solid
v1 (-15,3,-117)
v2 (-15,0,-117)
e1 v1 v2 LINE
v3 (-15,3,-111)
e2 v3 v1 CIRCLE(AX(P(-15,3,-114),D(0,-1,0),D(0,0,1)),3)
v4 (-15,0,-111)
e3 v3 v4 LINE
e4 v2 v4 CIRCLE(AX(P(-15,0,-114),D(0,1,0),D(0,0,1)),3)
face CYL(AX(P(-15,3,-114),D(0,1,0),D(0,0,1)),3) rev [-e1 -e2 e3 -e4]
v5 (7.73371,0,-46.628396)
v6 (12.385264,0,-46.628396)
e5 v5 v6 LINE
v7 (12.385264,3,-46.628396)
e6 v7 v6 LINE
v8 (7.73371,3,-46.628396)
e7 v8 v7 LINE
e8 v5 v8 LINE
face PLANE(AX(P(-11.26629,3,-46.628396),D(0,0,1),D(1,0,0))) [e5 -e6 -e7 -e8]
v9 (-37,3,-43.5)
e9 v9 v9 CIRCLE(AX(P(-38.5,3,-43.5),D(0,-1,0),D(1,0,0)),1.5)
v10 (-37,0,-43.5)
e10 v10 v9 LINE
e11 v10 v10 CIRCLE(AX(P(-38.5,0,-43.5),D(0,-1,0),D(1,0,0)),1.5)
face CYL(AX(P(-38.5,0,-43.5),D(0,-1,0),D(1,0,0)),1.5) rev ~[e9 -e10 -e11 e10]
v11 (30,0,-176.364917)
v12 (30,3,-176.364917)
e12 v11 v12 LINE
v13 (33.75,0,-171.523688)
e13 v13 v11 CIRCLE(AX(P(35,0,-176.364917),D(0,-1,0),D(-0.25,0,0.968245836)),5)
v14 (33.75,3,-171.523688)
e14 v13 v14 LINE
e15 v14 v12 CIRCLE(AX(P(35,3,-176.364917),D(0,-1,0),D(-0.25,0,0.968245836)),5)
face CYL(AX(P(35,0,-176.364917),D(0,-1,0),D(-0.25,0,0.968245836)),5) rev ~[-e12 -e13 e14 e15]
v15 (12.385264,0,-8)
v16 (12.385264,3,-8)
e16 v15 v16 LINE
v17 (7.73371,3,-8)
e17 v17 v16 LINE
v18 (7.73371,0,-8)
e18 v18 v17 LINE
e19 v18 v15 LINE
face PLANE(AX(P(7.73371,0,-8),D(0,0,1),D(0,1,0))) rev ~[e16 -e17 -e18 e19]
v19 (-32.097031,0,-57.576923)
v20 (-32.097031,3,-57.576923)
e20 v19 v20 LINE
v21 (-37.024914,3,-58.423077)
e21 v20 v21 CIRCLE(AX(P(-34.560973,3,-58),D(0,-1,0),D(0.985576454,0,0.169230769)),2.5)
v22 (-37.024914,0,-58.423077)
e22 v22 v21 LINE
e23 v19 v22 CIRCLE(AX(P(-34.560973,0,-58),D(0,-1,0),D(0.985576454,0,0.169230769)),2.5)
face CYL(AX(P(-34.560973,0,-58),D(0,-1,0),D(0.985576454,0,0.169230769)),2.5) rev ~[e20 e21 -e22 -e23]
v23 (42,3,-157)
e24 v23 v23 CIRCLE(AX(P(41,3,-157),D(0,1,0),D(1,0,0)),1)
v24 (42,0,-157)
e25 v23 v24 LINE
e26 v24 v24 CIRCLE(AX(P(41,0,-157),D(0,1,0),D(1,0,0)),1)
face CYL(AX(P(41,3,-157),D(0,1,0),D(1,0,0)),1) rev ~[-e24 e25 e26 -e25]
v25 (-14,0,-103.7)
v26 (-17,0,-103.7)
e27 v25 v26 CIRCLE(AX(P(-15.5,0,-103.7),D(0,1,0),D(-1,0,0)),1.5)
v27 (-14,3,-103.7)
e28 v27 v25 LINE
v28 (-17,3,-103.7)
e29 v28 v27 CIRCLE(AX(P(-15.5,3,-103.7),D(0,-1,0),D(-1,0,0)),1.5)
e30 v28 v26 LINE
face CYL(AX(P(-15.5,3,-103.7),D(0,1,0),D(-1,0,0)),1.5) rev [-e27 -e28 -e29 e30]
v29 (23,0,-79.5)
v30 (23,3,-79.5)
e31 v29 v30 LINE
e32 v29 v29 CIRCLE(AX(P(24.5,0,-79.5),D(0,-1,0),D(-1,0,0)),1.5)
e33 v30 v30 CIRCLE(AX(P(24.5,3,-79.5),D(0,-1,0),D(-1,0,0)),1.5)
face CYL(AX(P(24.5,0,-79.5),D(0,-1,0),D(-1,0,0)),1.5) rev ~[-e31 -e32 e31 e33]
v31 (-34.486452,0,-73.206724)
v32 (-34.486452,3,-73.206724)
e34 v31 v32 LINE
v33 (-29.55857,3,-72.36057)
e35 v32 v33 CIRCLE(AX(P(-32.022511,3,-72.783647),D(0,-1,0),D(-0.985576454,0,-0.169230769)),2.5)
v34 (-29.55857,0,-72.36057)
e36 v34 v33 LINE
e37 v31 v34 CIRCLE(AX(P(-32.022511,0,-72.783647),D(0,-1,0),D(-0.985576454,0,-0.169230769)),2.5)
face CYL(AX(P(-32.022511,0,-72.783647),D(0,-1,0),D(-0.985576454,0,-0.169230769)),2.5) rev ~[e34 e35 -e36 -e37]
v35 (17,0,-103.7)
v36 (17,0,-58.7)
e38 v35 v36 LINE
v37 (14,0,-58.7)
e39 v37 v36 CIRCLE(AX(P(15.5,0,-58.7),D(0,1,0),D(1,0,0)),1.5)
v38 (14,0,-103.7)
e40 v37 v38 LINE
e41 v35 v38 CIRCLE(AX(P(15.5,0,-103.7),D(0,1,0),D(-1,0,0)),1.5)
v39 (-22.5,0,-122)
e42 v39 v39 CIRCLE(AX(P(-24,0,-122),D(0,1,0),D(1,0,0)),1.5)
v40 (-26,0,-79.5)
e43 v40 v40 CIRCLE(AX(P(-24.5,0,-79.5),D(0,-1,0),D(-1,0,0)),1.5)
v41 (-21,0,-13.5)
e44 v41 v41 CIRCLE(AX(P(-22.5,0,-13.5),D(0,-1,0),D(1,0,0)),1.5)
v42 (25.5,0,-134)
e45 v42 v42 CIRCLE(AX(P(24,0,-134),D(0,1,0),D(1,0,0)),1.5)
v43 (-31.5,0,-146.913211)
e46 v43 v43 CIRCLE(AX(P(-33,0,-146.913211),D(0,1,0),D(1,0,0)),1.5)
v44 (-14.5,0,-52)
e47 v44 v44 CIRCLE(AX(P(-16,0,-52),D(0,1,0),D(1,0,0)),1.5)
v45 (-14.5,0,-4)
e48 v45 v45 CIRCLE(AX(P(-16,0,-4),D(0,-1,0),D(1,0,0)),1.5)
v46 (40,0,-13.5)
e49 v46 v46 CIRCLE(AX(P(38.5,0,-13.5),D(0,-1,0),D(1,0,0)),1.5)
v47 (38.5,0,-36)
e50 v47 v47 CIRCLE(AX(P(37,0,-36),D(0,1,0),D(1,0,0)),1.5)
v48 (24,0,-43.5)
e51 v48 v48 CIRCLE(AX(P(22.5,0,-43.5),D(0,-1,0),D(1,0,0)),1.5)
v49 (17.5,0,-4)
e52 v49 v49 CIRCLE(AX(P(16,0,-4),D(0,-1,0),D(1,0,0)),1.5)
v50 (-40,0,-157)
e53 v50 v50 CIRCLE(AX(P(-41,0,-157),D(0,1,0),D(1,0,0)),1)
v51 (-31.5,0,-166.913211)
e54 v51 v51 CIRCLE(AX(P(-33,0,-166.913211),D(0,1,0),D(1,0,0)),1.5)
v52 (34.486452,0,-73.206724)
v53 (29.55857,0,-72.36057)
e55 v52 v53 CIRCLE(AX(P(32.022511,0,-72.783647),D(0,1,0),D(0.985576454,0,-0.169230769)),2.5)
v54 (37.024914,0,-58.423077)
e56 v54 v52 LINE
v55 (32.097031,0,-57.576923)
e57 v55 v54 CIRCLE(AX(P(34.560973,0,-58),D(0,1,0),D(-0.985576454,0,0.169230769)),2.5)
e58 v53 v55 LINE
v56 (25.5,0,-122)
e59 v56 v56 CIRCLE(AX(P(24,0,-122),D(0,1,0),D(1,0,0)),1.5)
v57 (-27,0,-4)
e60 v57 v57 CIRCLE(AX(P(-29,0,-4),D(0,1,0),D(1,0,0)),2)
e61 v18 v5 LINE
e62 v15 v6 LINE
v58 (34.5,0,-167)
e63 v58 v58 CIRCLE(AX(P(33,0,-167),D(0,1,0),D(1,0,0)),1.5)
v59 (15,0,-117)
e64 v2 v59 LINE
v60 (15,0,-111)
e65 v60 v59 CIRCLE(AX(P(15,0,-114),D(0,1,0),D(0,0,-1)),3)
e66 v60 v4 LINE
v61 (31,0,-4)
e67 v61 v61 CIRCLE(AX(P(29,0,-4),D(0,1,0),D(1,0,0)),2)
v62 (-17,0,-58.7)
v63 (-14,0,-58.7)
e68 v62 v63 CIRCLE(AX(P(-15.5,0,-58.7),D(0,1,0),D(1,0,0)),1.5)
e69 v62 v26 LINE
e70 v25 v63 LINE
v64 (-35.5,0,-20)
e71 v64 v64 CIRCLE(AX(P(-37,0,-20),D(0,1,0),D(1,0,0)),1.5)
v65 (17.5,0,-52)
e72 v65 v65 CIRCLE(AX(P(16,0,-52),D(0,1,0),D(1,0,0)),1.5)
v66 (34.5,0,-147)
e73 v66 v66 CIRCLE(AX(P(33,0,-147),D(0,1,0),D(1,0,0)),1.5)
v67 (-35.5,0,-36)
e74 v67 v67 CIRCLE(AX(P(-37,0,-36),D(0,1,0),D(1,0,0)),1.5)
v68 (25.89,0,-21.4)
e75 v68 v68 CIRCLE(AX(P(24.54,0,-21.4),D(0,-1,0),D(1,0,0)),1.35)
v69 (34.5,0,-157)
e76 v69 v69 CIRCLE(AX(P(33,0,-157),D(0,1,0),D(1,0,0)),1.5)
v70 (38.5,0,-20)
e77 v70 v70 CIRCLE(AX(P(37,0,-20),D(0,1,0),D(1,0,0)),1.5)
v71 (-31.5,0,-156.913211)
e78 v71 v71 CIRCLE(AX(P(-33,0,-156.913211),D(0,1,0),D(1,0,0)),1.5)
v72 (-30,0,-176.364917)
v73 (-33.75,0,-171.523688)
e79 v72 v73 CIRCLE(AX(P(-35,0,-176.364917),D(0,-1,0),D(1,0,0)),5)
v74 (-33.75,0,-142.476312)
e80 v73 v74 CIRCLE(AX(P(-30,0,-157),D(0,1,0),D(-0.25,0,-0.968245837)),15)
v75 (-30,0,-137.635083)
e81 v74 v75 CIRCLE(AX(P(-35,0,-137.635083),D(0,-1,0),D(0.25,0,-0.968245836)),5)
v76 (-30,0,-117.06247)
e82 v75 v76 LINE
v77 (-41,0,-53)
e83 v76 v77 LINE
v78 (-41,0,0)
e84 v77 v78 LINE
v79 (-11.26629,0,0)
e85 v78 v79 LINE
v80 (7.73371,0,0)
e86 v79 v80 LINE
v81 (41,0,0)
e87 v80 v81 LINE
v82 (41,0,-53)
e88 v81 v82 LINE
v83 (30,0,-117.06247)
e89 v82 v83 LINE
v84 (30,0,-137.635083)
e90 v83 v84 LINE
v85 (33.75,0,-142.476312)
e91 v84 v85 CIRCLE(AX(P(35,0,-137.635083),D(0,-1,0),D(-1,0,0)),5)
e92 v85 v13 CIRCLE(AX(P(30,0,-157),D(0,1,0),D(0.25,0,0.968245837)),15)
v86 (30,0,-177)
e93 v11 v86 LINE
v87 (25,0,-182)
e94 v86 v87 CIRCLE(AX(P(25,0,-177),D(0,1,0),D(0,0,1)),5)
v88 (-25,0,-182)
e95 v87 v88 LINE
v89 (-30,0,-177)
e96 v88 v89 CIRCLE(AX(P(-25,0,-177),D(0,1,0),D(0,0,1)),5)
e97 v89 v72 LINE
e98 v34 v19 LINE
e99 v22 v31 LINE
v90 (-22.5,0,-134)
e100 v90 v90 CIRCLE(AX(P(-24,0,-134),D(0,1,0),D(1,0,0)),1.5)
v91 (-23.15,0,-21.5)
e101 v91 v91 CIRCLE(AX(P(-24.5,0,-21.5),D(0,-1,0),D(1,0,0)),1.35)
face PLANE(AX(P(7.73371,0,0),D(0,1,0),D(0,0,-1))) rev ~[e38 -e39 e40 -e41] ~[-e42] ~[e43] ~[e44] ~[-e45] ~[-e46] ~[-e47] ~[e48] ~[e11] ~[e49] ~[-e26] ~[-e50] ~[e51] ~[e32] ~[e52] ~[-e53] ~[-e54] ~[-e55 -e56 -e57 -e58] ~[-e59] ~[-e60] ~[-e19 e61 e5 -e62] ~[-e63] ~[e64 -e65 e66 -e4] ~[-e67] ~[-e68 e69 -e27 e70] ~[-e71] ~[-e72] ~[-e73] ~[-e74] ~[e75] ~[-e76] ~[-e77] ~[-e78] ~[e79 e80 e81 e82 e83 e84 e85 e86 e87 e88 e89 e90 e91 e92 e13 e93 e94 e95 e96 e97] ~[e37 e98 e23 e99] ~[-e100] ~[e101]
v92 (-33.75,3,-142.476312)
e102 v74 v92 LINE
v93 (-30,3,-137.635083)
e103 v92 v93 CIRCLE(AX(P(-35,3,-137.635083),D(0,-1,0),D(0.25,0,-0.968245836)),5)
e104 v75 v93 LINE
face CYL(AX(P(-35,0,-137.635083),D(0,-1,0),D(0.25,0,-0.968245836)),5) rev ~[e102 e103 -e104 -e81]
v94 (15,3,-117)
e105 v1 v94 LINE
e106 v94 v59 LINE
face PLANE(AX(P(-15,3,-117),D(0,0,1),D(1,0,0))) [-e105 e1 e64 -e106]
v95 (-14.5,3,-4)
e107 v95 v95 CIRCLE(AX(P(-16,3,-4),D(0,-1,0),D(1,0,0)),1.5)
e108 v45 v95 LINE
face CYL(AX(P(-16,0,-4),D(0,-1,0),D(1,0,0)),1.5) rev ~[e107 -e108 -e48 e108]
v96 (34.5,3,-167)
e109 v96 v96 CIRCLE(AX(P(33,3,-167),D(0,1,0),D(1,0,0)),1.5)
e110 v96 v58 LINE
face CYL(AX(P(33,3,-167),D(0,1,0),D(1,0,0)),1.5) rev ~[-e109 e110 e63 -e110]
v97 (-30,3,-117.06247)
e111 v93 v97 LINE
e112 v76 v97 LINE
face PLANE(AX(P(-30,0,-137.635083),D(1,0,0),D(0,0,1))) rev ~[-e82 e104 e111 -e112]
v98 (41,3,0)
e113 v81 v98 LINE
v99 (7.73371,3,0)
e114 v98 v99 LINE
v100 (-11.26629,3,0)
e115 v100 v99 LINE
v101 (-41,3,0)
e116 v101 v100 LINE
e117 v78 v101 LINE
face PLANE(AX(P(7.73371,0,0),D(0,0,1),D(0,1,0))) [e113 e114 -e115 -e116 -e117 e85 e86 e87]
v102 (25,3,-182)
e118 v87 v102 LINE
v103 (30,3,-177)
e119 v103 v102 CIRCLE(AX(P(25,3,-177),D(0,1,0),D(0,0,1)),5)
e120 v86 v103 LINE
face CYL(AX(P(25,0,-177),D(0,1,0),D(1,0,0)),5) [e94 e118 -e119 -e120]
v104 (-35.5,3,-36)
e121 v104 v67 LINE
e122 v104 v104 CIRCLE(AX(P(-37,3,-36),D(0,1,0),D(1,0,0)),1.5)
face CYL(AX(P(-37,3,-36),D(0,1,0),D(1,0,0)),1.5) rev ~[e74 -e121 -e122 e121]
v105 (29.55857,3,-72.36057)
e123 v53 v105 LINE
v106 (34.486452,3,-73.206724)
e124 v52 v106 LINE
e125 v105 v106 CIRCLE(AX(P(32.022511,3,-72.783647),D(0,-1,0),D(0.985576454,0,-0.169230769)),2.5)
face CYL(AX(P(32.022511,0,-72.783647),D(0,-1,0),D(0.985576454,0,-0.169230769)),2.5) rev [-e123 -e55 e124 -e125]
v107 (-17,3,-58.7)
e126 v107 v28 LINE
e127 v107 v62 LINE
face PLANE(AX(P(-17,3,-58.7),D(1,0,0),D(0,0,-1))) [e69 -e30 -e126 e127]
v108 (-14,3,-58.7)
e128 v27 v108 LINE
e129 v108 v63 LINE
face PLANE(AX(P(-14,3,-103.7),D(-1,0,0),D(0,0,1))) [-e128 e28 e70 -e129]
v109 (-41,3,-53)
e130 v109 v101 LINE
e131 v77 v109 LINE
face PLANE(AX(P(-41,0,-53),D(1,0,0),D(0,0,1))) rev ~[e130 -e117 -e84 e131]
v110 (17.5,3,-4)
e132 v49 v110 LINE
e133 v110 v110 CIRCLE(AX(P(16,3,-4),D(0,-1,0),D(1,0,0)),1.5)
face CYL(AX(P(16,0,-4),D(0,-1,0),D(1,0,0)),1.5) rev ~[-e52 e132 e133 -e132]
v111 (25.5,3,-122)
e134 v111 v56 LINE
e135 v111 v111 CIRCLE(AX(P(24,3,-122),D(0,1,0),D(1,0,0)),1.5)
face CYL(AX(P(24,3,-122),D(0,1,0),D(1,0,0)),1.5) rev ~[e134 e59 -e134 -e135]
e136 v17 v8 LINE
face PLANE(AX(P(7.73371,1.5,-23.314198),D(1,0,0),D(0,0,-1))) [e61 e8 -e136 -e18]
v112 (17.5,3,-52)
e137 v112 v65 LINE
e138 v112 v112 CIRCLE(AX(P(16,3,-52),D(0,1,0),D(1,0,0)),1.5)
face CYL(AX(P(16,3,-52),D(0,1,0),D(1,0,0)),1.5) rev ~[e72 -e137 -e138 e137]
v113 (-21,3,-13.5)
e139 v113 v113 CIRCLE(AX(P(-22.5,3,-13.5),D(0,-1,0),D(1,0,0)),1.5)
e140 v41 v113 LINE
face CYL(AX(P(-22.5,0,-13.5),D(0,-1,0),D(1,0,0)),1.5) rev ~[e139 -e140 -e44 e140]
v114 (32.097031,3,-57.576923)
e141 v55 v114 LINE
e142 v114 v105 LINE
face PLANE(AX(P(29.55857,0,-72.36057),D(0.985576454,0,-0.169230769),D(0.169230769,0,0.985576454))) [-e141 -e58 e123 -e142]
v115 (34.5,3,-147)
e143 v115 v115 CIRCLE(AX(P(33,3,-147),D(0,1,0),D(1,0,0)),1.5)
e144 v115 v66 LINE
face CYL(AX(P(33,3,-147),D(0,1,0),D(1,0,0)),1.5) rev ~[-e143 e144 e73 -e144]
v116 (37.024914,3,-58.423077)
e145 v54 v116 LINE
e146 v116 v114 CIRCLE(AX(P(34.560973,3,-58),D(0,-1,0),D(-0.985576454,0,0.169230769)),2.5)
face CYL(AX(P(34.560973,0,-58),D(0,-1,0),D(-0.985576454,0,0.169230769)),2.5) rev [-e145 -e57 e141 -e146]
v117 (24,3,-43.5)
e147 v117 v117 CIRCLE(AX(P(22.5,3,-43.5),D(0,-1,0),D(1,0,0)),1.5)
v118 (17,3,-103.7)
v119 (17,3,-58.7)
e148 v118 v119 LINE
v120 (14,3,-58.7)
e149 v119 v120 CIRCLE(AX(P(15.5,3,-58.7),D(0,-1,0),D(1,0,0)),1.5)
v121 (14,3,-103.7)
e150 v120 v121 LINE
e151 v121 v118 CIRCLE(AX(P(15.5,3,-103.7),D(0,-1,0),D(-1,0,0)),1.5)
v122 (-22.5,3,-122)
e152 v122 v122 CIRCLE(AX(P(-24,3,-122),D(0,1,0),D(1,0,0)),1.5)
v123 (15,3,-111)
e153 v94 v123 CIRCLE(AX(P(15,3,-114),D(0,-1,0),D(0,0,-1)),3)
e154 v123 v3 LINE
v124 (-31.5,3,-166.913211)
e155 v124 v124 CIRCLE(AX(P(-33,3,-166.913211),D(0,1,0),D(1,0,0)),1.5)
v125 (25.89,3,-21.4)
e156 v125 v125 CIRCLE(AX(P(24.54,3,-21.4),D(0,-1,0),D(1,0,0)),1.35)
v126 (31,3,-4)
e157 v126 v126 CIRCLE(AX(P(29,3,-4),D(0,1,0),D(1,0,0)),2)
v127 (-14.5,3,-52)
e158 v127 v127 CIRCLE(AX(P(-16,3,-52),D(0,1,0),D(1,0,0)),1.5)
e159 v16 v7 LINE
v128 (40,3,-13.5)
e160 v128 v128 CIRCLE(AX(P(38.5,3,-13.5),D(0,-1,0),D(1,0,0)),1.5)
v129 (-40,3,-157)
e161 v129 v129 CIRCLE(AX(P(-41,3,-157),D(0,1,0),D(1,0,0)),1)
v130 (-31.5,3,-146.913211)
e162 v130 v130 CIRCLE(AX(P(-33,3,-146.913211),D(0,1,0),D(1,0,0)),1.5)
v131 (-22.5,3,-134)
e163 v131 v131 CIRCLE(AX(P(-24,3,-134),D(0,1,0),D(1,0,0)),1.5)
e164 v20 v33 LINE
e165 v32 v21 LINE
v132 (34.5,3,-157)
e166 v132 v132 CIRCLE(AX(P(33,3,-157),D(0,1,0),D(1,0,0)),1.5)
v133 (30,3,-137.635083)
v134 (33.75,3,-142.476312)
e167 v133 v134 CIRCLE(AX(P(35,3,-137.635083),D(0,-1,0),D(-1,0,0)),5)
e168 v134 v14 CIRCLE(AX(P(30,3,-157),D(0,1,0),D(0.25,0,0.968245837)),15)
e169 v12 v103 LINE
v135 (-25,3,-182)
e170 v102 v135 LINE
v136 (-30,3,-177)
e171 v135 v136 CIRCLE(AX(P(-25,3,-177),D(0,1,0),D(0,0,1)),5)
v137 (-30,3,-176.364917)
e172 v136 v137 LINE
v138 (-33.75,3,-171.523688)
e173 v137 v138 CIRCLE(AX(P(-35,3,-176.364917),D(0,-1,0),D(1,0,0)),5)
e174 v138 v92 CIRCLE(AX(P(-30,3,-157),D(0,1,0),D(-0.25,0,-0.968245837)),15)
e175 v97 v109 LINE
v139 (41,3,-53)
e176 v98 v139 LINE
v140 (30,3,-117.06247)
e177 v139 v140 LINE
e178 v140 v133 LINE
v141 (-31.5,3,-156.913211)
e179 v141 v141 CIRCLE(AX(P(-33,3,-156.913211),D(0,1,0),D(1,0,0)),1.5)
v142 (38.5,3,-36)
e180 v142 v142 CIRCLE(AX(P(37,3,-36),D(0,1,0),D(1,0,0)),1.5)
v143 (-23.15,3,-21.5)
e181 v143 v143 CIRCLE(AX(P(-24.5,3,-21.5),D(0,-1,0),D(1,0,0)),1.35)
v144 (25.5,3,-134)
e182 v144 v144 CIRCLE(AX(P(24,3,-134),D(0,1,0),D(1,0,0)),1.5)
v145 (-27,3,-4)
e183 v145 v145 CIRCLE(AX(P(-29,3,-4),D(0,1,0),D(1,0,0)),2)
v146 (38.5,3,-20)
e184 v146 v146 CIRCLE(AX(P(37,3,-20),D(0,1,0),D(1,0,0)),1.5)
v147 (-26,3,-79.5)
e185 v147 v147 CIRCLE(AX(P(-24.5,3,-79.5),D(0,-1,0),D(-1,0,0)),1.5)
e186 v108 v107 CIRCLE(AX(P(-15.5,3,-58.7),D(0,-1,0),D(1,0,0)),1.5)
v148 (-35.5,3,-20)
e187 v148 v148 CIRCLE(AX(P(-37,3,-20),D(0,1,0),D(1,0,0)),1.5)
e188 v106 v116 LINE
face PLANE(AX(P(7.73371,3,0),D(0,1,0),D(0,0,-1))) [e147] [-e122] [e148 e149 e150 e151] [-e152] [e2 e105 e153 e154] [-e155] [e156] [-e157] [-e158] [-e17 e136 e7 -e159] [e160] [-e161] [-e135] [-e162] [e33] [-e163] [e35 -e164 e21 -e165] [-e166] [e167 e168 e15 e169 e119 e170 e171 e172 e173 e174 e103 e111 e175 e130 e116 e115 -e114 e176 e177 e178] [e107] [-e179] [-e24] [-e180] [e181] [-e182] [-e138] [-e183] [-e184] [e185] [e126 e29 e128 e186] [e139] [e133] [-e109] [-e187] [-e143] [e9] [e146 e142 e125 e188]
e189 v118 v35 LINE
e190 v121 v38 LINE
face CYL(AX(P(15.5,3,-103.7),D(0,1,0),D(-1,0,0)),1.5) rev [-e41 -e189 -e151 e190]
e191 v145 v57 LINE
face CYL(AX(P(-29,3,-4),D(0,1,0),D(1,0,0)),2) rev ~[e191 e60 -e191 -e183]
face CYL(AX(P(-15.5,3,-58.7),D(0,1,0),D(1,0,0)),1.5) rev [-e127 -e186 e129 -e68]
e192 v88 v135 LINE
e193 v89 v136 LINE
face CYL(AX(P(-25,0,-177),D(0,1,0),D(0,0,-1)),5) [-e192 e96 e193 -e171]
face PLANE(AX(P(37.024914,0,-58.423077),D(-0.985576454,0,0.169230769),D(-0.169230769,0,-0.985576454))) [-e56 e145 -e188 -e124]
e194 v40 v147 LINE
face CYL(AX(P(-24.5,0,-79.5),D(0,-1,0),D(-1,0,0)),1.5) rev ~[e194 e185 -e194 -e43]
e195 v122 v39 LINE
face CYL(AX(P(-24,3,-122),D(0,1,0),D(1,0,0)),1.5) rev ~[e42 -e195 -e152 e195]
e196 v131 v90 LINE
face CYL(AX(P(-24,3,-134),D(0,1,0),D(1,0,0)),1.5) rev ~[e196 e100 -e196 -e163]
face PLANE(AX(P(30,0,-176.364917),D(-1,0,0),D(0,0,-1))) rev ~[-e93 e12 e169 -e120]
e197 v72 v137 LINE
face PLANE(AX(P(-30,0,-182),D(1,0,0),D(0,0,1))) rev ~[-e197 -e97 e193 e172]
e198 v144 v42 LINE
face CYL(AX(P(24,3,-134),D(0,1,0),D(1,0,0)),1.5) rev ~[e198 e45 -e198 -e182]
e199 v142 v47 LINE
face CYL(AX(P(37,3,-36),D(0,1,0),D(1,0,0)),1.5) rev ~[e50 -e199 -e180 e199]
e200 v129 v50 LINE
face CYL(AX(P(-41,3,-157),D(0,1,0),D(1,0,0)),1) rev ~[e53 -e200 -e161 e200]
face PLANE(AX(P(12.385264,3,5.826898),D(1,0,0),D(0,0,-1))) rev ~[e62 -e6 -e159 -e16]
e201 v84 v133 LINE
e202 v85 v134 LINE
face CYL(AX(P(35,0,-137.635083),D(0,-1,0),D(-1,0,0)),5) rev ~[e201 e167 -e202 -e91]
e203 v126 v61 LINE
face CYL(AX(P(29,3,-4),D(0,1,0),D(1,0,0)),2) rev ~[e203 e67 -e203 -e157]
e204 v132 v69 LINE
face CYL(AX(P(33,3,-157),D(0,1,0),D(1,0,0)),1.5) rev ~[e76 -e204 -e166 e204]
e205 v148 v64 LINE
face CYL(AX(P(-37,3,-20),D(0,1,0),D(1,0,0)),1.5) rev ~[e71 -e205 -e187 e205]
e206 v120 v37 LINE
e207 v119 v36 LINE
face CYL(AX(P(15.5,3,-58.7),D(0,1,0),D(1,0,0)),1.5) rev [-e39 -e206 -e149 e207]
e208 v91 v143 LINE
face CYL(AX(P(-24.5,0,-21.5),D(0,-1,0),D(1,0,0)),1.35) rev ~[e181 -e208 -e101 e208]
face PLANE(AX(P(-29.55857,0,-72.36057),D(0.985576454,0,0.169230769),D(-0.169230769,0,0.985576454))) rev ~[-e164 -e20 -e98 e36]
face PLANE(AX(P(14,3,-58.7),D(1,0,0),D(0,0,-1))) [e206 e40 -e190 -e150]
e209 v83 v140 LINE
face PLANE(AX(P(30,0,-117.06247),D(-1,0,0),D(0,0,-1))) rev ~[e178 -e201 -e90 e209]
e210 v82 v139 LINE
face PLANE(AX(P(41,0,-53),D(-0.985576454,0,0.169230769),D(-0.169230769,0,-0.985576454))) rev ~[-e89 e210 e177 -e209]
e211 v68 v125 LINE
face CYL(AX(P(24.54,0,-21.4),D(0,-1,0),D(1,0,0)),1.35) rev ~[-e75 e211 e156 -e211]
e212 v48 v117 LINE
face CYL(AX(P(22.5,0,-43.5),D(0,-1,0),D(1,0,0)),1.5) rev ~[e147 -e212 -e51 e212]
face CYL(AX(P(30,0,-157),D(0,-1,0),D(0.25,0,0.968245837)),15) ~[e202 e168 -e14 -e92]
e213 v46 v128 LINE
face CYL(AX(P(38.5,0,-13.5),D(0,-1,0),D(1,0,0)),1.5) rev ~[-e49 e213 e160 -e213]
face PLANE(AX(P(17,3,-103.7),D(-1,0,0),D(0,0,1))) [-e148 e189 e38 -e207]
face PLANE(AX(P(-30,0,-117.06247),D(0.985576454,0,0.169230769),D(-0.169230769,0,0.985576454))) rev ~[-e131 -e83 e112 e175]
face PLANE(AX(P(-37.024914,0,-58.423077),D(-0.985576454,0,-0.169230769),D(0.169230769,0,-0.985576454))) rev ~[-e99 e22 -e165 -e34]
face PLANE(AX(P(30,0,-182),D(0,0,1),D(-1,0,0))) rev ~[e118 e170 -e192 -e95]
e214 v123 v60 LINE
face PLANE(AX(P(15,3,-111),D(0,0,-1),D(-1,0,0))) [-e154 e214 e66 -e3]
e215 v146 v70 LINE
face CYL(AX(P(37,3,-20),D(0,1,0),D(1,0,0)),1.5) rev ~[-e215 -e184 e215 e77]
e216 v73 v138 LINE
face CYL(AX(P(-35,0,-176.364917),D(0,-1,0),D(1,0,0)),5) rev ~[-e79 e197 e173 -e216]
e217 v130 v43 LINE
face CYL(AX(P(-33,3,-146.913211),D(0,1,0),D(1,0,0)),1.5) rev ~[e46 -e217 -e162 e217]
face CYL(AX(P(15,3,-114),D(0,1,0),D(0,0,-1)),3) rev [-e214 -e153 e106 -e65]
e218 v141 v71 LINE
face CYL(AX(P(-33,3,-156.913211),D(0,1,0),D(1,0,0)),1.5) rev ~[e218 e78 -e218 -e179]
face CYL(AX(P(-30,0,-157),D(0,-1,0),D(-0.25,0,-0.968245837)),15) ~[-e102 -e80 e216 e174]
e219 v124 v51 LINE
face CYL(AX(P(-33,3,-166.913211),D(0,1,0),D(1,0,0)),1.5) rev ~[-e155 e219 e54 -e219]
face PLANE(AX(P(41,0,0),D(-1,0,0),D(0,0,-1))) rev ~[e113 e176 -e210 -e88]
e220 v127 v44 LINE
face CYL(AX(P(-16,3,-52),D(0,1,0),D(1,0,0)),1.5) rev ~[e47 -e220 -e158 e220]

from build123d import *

# Parameters (mm, degrees)
BOSS_EXTRUDE1_DEPTH  = 3
BOSS_EXTRUDE2_DEPTH  = 60
BOSS_EXTRUDE3_DEPTH  = 3
SKETCH4_R            = 1.5
CUT_EXTRUDE1_DEPTH   = 4
LPATTERN1_COUNT      = 2
LPATTERN1_PITCH      = 48
LPATTERN1_COUNT_DIR2 = 2
LPATTERN1_PITCH_DIR2 = 12
SKETCH6_W            = 23.651553975
SKETCH6_H            = 52.455294706
CUT_EXTRUDE2_DEPTH   = 4
SKETCH8_W            = 46.628396315
SKETCH8_H            = 3
BOSS_EXTRUDE4_DEPTH  = 19
SKETCH9_W            = 8
SKETCH9_H            = 3
BOSS_EXTRUDE5_DEPTH  = 4.651554
SKETCH12_R           = 1.5
CUT_EXTRUDE4_DEPTH   = 17
SKETCH13_R           = 1
SKETCH13_R_2         = 1.5
CUT_EXTRUDE5_DEPTH   = 4
SKETCH14_R           = 1.35
CUT_EXTRUDE6_DEPTH   = 17
SKETCH15_R           = 1.5
CUT_EXTRUDE7_DEPTH   = 17
SKETCH16_R           = 1.5
CUT_EXTRUDE8_DEPTH   = 17
CUT_EXTRUDE9_DEPTH   = 17
SKETCH19_R           = 1.5
CUT_EXTRUDE10_DEPTH  = 17
CUT_EXTRUDE11_START  = -65.281828
SKETCH20_W           = 42
SKETCH20_H           = 16
CUT_EXTRUDE11_DEPTH  = 70.563656
FILLET1_R            = 5
FILLET2_R            = 5
SKETCH21_R           = 1.5
CUT_EXTRUDE12_DEPTH  = 4
CUT_EXTRUDE13_DEPTH  = 4
SKETCH23_R           = 1.5
CUT_EXTRUDE14_DEPTH  = 4
CUT_EXTRUDE15_DEPTH  = 4
SKETCH25_R           = 2
CUT_EXTRUDE16_DEPTH  = 4


with BuildPart() as part:
    # Sketch1 → Boss-Extrude1 (new body)
    with BuildSketch(Plane(origin=(0, 0, 0), x_dir=(1, 0, 0), z_dir=(0, 1, 0))):
        with BuildLine():
            Line((-41, 0), (41, 0))
            Line((41, 0), (41, 53))
            Line((41, 53), (30, 117.062469512))
            Line((30, 117.062469512), (30, 137.635083269))
            ThreePointArc((30, 137.635083269), (31.047152925, 140.696945447), (33.75, 142.476312452))
            ThreePointArc((33.75, 142.476312452), (45, 157), (33.75, 171.523687548))
            ThreePointArc((33.75, 171.523687548), (31.047152925, 173.303054553), (30, 176.364916731))
            Line((30, 176.364916731), (30, 182))
            Line((30, 182), (-30, 182))
            Line((-30, 182), (-30, 176.364916731))
            ThreePointArc((-30, 176.364916731), (-31.047152925, 173.303054553), (-33.75, 171.523687548))
            ThreePointArc((-33.75, 171.523687548), (-45, 157), (-33.75, 142.476312452))
            ThreePointArc((-33.75, 142.476312452), (-31.047152925, 140.696945447), (-30, 137.635083269))
            Line((-30, 137.635083269), (-30, 117.062469512))
            Line((-30, 117.062469512), (-41, 53))
            Line((-41, 53), (-41, 0))
        make_face()
    extrude(amount=BOSS_EXTRUDE1_DEPTH)

    # Sketch4 → Cut-Extrude1 (cut, through all)
    with BuildSketch(Plane(origin=(0, 3, 0), x_dir=(1, 0, 0), z_dir=(0, 1, 0))):
        with Locations((-24, 134)):
            Circle(SKETCH4_R)
    cut_extrude1 = extrude(amount=-CUT_EXTRUDE1_DEPTH, mode=Mode.SUBTRACT)

    # LPattern1: Cut-Extrude1 2 × 2
    with Locations(*[(i * LPATTERN1_PITCH, 0, j * LPATTERN1_PITCH_DIR2) for i in range(LPATTERN1_COUNT) for j in range(LPATTERN1_COUNT_DIR2) if (i, j) != (0, 0)]):
        add(cut_extrude1, mode=Mode.SUBTRACT)

    # Sketch6 → Cut-Extrude2 (cut, through all)
    with BuildSketch(Plane(origin=(0, 3, 0), x_dir=(1, 0, 0), z_dir=(0, 1, 0))):
        with Locations((0.55948687, 20.400748962)):
            Rectangle(SKETCH6_W, SKETCH6_H)
    extrude(amount=-CUT_EXTRUDE2_DEPTH, mode=Mode.SUBTRACT)

    # Sketch8 → Boss-Extrude4 (add)
    with BuildSketch(Plane(origin=(-11.266290117, 0, 0), x_dir=(0, 0, -1), z_dir=(1, 0, 0))):
        with Locations((23.314198158, 1.5)):
            Rectangle(SKETCH8_W, SKETCH8_H)
    extrude(amount=BOSS_EXTRUDE4_DEPTH)

    # Sketch9 → Boss-Extrude5 (add)
    with BuildSketch(Plane(origin=(7.733709883, 0, 0), x_dir=(0, 0, -1), z_dir=(1, 0, 0))):
        with Locations((4, 1.5)):
            Rectangle(SKETCH9_W, SKETCH9_H)
    extrude(amount=BOSS_EXTRUDE5_DEPTH)

    # Sketch12 → Cut-Extrude4 (cut, through all)
    with BuildSketch(Plane.XZ):
        with Locations((-16, -4)):
            Circle(SKETCH12_R)
        with Locations((16, -4)):
            Circle(SKETCH12_R)
    extrude(amount=-CUT_EXTRUDE4_DEPTH, mode=Mode.SUBTRACT)

    # Sketch13 → Cut-Extrude5 (cut, through all)
    with BuildSketch(Plane(origin=(0, 3, 0), x_dir=(1, 0, 0), z_dir=(0, 1, 0))):
        with Locations((41, 157)):
            Circle(SKETCH13_R)
        with Locations((-41, 157)):
            Circle(SKETCH13_R)
        with Locations((33, 157)):
            Circle(SKETCH13_R_2)
        with Locations((-33, 156.913211427)):
            Circle(SKETCH13_R_2)
        with Locations((33, 147)):
            Circle(SKETCH13_R_2)
        with Locations((33, 167)):
            Circle(SKETCH13_R_2)
        with Locations((-33, 166.913211427)):
            Circle(SKETCH13_R_2)
        with Locations((-33, 146.913211427)):
            Circle(SKETCH13_R_2)
    extrude(amount=-CUT_EXTRUDE5_DEPTH, mode=Mode.SUBTRACT)

    # Sketch14 → Cut-Extrude6 (cut, through all)
    with BuildSketch(Plane.XZ):
        with Locations((-24.5, -21.5)):
            Circle(SKETCH14_R)
        with Locations((24.54, -21.4)):
            Circle(SKETCH14_R)
    extrude(amount=-CUT_EXTRUDE6_DEPTH, mode=Mode.SUBTRACT)

    # Sketch15 → Cut-Extrude7 (cut, through all)
    with BuildSketch(Plane.XZ):
        with Locations((22.5, -43.5)):
            Circle(SKETCH15_R)
        with Locations((38.5, -13.5)):
            Circle(SKETCH15_R)
    extrude(amount=-CUT_EXTRUDE7_DEPTH, mode=Mode.SUBTRACT)

    # Sketch16 → Cut-Extrude8 (cut, through all)
    with BuildSketch(Plane.XZ):
        with Locations((-22.5, -13.5)):
            Circle(SKETCH16_R)
        with Locations((-38.5, -43.5)):
            Circle(SKETCH16_R)
    extrude(amount=-CUT_EXTRUDE8_DEPTH, mode=Mode.SUBTRACT)

    # Sketch17 → Cut-Extrude9 (cut, through all)
    with BuildSketch(Plane.XZ):
        with BuildLine():
            Line((37.02491368, -58.423076923), (34.486452142, -73.206723734))
            ThreePointArc((34.486452142, -73.206723734), (31.599434084, -75.247587946), (29.558569872, -72.360569887))
            Line((29.558569872, -72.360569887), (32.09703141, -57.576923077))
            ThreePointArc((32.09703141, -57.576923077), (34.984049468, -55.536058865), (37.02491368, -58.423076923))
        make_face()
        with BuildLine():
            Line((-37.02491368, -58.423076923), (-34.486452142, -73.206723734))
            ThreePointArc((-34.486452142, -73.206723734), (-31.599434084, -75.247587946), (-29.558569872, -72.360569887))
            Line((-29.558569872, -72.360569887), (-32.09703141, -57.576923077))
            ThreePointArc((-32.09703141, -57.576923077), (-34.984049468, -55.536058865), (-37.02491368, -58.423076923))
        make_face()
    extrude(amount=-CUT_EXTRUDE9_DEPTH, mode=Mode.SUBTRACT)

    # Sketch19 → Cut-Extrude10 (cut, through all)
    with BuildSketch(Plane(origin=(0, 0, 0), x_dir=(-1, 0, 0), z_dir=(0, -1, 0))):
        with Locations((24.5, 79.5)):
            Circle(SKETCH19_R)
        with Locations((-24.5, 79.5)):
            Circle(SKETCH19_R)
    extrude(amount=-CUT_EXTRUDE10_DEPTH, mode=Mode.SUBTRACT)

    # Fillet1
    fillet1_edges = [part.edges().sort_by_distance(p)[0] for p in [
        (30, 1.5, -182),
    ]]
    fillet(fillet1_edges, radius=FILLET1_R)

    # Fillet2
    fillet2_edges = [part.edges().sort_by_distance(p)[0] for p in [
        (-30, 1.5, -182),
    ]]
    fillet(fillet2_edges, radius=FILLET2_R)

    # Sketch21 → Cut-Extrude12 (cut, through all)
    with BuildSketch(Plane(origin=(0, 3, 0), x_dir=(1, 0, 0), z_dir=(0, 1, 0))):
        with Locations((37, 20)):
            Circle(SKETCH21_R)
        with Locations((-37, 20)):
            Circle(SKETCH21_R)
        with Locations((-37, 36)):
            Circle(SKETCH21_R)
        with Locations((37, 36)):
            Circle(SKETCH21_R)
    extrude(amount=-CUT_EXTRUDE12_DEPTH, mode=Mode.SUBTRACT)

    # Sketch22 → Cut-Extrude13 (cut, through all)
    with BuildSketch(Plane(origin=(0, 3, 0), x_dir=(1, 0, 0), z_dir=(0, 1, 0))):
        with BuildLine():
            Line((14, 58.7), (14, 103.7))
            ThreePointArc((14, 103.7), (15.5, 105.2), (17, 103.7))
            Line((17, 103.7), (17, 58.7))
            ThreePointArc((17, 58.7), (15.5, 57.2), (14, 58.7))
        make_face()
        with BuildLine():
            Line((-17, 58.7), (-17, 103.7))
            ThreePointArc((-17, 103.7), (-15.5, 105.2), (-14, 103.7))
            Line((-14, 103.7), (-14, 58.7))
            ThreePointArc((-14, 58.7), (-15.5, 57.2), (-17, 58.7))
        make_face()
    extrude(amount=-CUT_EXTRUDE13_DEPTH, mode=Mode.SUBTRACT)

    # Sketch23 → Cut-Extrude14 (cut, through all)
    with BuildSketch(Plane(origin=(0, 3, 0), x_dir=(1, 0, 0), z_dir=(0, 1, 0))):
        with Locations((-16, 52)):
            Circle(SKETCH23_R)
        with Locations((16, 52)):
            Circle(SKETCH23_R)
    extrude(amount=-CUT_EXTRUDE14_DEPTH, mode=Mode.SUBTRACT)

    # Sketch24 → Cut-Extrude15 (cut, through all)
    with BuildSketch(Plane(origin=(0, 3, 0), x_dir=(1, 0, 0), z_dir=(0, 1, 0))):
        with BuildLine():
            Line((15, 111), (-15, 111))
            ThreePointArc((-15, 111), (-18, 114), (-15, 117))
            Line((-15, 117), (15, 117))
            ThreePointArc((15, 117), (18, 114), (15, 111))
        make_face()
    extrude(amount=-CUT_EXTRUDE15_DEPTH, mode=Mode.SUBTRACT)

    # Sketch25 → Cut-Extrude16 (cut, through all)
    with BuildSketch(Plane(origin=(0, 3, 0), x_dir=(1, 0, 0), z_dir=(0, 1, 0))):
        with Locations((-29, 4)):
            Circle(SKETCH25_R)
        with Locations((29, 4)):
            Circle(SKETCH25_R)
    extrude(amount=-CUT_EXTRUDE16_DEPTH, mode=Mode.SUBTRACT)


with BuildPart() as body_2:
    # Sketch2 → Boss-Extrude2 (new body)
    with BuildSketch(Plane.ZY.offset(30)):
        Polygon((-182, 0), (-196, 13), (-196, 16), (-182, 3), align=None)
    extrude(amount=-BOSS_EXTRUDE2_DEPTH)

    # Sketch3 → Boss-Extrude3 (add)
    with BuildSketch(Plane(origin=(0, 16, 0), x_dir=(1, 0, 0), z_dir=(0, 1, 0))):
        with BuildLine():
            Line((-30, 196), (30, 196))
            Line((30, 196), (34.802113349, 210.939908196))
            ThreePointArc((34.802113349, 210.939908196), (33.362697678, 219.890631628), (25.281827736, 224))
            Line((25.281827736, 224), (-25.281827736, 224))
            ThreePointArc((-25.281827736, 224), (-33.362697678, 219.890631628), (-34.802113349, 210.939908196))
            Line((-34.802113349, 210.939908196), (-30, 196))
        make_face()
    extrude(amount=-BOSS_EXTRUDE3_DEPTH)

    # Sketch20 → Cut-Extrude11 (cut)
    with BuildSketch(Plane(origin=(30, 0, 0), x_dir=(0, 0, -1), z_dir=(1, 0, 0)).offset(CUT_EXTRUDE11_START)):
        with Locations((203, 8)):
            Rectangle(SKETCH20_W, SKETCH20_H)
    extrude(amount=CUT_EXTRUDE11_DEPTH, mode=Mode.SUBTRACT)


solid = part.part
